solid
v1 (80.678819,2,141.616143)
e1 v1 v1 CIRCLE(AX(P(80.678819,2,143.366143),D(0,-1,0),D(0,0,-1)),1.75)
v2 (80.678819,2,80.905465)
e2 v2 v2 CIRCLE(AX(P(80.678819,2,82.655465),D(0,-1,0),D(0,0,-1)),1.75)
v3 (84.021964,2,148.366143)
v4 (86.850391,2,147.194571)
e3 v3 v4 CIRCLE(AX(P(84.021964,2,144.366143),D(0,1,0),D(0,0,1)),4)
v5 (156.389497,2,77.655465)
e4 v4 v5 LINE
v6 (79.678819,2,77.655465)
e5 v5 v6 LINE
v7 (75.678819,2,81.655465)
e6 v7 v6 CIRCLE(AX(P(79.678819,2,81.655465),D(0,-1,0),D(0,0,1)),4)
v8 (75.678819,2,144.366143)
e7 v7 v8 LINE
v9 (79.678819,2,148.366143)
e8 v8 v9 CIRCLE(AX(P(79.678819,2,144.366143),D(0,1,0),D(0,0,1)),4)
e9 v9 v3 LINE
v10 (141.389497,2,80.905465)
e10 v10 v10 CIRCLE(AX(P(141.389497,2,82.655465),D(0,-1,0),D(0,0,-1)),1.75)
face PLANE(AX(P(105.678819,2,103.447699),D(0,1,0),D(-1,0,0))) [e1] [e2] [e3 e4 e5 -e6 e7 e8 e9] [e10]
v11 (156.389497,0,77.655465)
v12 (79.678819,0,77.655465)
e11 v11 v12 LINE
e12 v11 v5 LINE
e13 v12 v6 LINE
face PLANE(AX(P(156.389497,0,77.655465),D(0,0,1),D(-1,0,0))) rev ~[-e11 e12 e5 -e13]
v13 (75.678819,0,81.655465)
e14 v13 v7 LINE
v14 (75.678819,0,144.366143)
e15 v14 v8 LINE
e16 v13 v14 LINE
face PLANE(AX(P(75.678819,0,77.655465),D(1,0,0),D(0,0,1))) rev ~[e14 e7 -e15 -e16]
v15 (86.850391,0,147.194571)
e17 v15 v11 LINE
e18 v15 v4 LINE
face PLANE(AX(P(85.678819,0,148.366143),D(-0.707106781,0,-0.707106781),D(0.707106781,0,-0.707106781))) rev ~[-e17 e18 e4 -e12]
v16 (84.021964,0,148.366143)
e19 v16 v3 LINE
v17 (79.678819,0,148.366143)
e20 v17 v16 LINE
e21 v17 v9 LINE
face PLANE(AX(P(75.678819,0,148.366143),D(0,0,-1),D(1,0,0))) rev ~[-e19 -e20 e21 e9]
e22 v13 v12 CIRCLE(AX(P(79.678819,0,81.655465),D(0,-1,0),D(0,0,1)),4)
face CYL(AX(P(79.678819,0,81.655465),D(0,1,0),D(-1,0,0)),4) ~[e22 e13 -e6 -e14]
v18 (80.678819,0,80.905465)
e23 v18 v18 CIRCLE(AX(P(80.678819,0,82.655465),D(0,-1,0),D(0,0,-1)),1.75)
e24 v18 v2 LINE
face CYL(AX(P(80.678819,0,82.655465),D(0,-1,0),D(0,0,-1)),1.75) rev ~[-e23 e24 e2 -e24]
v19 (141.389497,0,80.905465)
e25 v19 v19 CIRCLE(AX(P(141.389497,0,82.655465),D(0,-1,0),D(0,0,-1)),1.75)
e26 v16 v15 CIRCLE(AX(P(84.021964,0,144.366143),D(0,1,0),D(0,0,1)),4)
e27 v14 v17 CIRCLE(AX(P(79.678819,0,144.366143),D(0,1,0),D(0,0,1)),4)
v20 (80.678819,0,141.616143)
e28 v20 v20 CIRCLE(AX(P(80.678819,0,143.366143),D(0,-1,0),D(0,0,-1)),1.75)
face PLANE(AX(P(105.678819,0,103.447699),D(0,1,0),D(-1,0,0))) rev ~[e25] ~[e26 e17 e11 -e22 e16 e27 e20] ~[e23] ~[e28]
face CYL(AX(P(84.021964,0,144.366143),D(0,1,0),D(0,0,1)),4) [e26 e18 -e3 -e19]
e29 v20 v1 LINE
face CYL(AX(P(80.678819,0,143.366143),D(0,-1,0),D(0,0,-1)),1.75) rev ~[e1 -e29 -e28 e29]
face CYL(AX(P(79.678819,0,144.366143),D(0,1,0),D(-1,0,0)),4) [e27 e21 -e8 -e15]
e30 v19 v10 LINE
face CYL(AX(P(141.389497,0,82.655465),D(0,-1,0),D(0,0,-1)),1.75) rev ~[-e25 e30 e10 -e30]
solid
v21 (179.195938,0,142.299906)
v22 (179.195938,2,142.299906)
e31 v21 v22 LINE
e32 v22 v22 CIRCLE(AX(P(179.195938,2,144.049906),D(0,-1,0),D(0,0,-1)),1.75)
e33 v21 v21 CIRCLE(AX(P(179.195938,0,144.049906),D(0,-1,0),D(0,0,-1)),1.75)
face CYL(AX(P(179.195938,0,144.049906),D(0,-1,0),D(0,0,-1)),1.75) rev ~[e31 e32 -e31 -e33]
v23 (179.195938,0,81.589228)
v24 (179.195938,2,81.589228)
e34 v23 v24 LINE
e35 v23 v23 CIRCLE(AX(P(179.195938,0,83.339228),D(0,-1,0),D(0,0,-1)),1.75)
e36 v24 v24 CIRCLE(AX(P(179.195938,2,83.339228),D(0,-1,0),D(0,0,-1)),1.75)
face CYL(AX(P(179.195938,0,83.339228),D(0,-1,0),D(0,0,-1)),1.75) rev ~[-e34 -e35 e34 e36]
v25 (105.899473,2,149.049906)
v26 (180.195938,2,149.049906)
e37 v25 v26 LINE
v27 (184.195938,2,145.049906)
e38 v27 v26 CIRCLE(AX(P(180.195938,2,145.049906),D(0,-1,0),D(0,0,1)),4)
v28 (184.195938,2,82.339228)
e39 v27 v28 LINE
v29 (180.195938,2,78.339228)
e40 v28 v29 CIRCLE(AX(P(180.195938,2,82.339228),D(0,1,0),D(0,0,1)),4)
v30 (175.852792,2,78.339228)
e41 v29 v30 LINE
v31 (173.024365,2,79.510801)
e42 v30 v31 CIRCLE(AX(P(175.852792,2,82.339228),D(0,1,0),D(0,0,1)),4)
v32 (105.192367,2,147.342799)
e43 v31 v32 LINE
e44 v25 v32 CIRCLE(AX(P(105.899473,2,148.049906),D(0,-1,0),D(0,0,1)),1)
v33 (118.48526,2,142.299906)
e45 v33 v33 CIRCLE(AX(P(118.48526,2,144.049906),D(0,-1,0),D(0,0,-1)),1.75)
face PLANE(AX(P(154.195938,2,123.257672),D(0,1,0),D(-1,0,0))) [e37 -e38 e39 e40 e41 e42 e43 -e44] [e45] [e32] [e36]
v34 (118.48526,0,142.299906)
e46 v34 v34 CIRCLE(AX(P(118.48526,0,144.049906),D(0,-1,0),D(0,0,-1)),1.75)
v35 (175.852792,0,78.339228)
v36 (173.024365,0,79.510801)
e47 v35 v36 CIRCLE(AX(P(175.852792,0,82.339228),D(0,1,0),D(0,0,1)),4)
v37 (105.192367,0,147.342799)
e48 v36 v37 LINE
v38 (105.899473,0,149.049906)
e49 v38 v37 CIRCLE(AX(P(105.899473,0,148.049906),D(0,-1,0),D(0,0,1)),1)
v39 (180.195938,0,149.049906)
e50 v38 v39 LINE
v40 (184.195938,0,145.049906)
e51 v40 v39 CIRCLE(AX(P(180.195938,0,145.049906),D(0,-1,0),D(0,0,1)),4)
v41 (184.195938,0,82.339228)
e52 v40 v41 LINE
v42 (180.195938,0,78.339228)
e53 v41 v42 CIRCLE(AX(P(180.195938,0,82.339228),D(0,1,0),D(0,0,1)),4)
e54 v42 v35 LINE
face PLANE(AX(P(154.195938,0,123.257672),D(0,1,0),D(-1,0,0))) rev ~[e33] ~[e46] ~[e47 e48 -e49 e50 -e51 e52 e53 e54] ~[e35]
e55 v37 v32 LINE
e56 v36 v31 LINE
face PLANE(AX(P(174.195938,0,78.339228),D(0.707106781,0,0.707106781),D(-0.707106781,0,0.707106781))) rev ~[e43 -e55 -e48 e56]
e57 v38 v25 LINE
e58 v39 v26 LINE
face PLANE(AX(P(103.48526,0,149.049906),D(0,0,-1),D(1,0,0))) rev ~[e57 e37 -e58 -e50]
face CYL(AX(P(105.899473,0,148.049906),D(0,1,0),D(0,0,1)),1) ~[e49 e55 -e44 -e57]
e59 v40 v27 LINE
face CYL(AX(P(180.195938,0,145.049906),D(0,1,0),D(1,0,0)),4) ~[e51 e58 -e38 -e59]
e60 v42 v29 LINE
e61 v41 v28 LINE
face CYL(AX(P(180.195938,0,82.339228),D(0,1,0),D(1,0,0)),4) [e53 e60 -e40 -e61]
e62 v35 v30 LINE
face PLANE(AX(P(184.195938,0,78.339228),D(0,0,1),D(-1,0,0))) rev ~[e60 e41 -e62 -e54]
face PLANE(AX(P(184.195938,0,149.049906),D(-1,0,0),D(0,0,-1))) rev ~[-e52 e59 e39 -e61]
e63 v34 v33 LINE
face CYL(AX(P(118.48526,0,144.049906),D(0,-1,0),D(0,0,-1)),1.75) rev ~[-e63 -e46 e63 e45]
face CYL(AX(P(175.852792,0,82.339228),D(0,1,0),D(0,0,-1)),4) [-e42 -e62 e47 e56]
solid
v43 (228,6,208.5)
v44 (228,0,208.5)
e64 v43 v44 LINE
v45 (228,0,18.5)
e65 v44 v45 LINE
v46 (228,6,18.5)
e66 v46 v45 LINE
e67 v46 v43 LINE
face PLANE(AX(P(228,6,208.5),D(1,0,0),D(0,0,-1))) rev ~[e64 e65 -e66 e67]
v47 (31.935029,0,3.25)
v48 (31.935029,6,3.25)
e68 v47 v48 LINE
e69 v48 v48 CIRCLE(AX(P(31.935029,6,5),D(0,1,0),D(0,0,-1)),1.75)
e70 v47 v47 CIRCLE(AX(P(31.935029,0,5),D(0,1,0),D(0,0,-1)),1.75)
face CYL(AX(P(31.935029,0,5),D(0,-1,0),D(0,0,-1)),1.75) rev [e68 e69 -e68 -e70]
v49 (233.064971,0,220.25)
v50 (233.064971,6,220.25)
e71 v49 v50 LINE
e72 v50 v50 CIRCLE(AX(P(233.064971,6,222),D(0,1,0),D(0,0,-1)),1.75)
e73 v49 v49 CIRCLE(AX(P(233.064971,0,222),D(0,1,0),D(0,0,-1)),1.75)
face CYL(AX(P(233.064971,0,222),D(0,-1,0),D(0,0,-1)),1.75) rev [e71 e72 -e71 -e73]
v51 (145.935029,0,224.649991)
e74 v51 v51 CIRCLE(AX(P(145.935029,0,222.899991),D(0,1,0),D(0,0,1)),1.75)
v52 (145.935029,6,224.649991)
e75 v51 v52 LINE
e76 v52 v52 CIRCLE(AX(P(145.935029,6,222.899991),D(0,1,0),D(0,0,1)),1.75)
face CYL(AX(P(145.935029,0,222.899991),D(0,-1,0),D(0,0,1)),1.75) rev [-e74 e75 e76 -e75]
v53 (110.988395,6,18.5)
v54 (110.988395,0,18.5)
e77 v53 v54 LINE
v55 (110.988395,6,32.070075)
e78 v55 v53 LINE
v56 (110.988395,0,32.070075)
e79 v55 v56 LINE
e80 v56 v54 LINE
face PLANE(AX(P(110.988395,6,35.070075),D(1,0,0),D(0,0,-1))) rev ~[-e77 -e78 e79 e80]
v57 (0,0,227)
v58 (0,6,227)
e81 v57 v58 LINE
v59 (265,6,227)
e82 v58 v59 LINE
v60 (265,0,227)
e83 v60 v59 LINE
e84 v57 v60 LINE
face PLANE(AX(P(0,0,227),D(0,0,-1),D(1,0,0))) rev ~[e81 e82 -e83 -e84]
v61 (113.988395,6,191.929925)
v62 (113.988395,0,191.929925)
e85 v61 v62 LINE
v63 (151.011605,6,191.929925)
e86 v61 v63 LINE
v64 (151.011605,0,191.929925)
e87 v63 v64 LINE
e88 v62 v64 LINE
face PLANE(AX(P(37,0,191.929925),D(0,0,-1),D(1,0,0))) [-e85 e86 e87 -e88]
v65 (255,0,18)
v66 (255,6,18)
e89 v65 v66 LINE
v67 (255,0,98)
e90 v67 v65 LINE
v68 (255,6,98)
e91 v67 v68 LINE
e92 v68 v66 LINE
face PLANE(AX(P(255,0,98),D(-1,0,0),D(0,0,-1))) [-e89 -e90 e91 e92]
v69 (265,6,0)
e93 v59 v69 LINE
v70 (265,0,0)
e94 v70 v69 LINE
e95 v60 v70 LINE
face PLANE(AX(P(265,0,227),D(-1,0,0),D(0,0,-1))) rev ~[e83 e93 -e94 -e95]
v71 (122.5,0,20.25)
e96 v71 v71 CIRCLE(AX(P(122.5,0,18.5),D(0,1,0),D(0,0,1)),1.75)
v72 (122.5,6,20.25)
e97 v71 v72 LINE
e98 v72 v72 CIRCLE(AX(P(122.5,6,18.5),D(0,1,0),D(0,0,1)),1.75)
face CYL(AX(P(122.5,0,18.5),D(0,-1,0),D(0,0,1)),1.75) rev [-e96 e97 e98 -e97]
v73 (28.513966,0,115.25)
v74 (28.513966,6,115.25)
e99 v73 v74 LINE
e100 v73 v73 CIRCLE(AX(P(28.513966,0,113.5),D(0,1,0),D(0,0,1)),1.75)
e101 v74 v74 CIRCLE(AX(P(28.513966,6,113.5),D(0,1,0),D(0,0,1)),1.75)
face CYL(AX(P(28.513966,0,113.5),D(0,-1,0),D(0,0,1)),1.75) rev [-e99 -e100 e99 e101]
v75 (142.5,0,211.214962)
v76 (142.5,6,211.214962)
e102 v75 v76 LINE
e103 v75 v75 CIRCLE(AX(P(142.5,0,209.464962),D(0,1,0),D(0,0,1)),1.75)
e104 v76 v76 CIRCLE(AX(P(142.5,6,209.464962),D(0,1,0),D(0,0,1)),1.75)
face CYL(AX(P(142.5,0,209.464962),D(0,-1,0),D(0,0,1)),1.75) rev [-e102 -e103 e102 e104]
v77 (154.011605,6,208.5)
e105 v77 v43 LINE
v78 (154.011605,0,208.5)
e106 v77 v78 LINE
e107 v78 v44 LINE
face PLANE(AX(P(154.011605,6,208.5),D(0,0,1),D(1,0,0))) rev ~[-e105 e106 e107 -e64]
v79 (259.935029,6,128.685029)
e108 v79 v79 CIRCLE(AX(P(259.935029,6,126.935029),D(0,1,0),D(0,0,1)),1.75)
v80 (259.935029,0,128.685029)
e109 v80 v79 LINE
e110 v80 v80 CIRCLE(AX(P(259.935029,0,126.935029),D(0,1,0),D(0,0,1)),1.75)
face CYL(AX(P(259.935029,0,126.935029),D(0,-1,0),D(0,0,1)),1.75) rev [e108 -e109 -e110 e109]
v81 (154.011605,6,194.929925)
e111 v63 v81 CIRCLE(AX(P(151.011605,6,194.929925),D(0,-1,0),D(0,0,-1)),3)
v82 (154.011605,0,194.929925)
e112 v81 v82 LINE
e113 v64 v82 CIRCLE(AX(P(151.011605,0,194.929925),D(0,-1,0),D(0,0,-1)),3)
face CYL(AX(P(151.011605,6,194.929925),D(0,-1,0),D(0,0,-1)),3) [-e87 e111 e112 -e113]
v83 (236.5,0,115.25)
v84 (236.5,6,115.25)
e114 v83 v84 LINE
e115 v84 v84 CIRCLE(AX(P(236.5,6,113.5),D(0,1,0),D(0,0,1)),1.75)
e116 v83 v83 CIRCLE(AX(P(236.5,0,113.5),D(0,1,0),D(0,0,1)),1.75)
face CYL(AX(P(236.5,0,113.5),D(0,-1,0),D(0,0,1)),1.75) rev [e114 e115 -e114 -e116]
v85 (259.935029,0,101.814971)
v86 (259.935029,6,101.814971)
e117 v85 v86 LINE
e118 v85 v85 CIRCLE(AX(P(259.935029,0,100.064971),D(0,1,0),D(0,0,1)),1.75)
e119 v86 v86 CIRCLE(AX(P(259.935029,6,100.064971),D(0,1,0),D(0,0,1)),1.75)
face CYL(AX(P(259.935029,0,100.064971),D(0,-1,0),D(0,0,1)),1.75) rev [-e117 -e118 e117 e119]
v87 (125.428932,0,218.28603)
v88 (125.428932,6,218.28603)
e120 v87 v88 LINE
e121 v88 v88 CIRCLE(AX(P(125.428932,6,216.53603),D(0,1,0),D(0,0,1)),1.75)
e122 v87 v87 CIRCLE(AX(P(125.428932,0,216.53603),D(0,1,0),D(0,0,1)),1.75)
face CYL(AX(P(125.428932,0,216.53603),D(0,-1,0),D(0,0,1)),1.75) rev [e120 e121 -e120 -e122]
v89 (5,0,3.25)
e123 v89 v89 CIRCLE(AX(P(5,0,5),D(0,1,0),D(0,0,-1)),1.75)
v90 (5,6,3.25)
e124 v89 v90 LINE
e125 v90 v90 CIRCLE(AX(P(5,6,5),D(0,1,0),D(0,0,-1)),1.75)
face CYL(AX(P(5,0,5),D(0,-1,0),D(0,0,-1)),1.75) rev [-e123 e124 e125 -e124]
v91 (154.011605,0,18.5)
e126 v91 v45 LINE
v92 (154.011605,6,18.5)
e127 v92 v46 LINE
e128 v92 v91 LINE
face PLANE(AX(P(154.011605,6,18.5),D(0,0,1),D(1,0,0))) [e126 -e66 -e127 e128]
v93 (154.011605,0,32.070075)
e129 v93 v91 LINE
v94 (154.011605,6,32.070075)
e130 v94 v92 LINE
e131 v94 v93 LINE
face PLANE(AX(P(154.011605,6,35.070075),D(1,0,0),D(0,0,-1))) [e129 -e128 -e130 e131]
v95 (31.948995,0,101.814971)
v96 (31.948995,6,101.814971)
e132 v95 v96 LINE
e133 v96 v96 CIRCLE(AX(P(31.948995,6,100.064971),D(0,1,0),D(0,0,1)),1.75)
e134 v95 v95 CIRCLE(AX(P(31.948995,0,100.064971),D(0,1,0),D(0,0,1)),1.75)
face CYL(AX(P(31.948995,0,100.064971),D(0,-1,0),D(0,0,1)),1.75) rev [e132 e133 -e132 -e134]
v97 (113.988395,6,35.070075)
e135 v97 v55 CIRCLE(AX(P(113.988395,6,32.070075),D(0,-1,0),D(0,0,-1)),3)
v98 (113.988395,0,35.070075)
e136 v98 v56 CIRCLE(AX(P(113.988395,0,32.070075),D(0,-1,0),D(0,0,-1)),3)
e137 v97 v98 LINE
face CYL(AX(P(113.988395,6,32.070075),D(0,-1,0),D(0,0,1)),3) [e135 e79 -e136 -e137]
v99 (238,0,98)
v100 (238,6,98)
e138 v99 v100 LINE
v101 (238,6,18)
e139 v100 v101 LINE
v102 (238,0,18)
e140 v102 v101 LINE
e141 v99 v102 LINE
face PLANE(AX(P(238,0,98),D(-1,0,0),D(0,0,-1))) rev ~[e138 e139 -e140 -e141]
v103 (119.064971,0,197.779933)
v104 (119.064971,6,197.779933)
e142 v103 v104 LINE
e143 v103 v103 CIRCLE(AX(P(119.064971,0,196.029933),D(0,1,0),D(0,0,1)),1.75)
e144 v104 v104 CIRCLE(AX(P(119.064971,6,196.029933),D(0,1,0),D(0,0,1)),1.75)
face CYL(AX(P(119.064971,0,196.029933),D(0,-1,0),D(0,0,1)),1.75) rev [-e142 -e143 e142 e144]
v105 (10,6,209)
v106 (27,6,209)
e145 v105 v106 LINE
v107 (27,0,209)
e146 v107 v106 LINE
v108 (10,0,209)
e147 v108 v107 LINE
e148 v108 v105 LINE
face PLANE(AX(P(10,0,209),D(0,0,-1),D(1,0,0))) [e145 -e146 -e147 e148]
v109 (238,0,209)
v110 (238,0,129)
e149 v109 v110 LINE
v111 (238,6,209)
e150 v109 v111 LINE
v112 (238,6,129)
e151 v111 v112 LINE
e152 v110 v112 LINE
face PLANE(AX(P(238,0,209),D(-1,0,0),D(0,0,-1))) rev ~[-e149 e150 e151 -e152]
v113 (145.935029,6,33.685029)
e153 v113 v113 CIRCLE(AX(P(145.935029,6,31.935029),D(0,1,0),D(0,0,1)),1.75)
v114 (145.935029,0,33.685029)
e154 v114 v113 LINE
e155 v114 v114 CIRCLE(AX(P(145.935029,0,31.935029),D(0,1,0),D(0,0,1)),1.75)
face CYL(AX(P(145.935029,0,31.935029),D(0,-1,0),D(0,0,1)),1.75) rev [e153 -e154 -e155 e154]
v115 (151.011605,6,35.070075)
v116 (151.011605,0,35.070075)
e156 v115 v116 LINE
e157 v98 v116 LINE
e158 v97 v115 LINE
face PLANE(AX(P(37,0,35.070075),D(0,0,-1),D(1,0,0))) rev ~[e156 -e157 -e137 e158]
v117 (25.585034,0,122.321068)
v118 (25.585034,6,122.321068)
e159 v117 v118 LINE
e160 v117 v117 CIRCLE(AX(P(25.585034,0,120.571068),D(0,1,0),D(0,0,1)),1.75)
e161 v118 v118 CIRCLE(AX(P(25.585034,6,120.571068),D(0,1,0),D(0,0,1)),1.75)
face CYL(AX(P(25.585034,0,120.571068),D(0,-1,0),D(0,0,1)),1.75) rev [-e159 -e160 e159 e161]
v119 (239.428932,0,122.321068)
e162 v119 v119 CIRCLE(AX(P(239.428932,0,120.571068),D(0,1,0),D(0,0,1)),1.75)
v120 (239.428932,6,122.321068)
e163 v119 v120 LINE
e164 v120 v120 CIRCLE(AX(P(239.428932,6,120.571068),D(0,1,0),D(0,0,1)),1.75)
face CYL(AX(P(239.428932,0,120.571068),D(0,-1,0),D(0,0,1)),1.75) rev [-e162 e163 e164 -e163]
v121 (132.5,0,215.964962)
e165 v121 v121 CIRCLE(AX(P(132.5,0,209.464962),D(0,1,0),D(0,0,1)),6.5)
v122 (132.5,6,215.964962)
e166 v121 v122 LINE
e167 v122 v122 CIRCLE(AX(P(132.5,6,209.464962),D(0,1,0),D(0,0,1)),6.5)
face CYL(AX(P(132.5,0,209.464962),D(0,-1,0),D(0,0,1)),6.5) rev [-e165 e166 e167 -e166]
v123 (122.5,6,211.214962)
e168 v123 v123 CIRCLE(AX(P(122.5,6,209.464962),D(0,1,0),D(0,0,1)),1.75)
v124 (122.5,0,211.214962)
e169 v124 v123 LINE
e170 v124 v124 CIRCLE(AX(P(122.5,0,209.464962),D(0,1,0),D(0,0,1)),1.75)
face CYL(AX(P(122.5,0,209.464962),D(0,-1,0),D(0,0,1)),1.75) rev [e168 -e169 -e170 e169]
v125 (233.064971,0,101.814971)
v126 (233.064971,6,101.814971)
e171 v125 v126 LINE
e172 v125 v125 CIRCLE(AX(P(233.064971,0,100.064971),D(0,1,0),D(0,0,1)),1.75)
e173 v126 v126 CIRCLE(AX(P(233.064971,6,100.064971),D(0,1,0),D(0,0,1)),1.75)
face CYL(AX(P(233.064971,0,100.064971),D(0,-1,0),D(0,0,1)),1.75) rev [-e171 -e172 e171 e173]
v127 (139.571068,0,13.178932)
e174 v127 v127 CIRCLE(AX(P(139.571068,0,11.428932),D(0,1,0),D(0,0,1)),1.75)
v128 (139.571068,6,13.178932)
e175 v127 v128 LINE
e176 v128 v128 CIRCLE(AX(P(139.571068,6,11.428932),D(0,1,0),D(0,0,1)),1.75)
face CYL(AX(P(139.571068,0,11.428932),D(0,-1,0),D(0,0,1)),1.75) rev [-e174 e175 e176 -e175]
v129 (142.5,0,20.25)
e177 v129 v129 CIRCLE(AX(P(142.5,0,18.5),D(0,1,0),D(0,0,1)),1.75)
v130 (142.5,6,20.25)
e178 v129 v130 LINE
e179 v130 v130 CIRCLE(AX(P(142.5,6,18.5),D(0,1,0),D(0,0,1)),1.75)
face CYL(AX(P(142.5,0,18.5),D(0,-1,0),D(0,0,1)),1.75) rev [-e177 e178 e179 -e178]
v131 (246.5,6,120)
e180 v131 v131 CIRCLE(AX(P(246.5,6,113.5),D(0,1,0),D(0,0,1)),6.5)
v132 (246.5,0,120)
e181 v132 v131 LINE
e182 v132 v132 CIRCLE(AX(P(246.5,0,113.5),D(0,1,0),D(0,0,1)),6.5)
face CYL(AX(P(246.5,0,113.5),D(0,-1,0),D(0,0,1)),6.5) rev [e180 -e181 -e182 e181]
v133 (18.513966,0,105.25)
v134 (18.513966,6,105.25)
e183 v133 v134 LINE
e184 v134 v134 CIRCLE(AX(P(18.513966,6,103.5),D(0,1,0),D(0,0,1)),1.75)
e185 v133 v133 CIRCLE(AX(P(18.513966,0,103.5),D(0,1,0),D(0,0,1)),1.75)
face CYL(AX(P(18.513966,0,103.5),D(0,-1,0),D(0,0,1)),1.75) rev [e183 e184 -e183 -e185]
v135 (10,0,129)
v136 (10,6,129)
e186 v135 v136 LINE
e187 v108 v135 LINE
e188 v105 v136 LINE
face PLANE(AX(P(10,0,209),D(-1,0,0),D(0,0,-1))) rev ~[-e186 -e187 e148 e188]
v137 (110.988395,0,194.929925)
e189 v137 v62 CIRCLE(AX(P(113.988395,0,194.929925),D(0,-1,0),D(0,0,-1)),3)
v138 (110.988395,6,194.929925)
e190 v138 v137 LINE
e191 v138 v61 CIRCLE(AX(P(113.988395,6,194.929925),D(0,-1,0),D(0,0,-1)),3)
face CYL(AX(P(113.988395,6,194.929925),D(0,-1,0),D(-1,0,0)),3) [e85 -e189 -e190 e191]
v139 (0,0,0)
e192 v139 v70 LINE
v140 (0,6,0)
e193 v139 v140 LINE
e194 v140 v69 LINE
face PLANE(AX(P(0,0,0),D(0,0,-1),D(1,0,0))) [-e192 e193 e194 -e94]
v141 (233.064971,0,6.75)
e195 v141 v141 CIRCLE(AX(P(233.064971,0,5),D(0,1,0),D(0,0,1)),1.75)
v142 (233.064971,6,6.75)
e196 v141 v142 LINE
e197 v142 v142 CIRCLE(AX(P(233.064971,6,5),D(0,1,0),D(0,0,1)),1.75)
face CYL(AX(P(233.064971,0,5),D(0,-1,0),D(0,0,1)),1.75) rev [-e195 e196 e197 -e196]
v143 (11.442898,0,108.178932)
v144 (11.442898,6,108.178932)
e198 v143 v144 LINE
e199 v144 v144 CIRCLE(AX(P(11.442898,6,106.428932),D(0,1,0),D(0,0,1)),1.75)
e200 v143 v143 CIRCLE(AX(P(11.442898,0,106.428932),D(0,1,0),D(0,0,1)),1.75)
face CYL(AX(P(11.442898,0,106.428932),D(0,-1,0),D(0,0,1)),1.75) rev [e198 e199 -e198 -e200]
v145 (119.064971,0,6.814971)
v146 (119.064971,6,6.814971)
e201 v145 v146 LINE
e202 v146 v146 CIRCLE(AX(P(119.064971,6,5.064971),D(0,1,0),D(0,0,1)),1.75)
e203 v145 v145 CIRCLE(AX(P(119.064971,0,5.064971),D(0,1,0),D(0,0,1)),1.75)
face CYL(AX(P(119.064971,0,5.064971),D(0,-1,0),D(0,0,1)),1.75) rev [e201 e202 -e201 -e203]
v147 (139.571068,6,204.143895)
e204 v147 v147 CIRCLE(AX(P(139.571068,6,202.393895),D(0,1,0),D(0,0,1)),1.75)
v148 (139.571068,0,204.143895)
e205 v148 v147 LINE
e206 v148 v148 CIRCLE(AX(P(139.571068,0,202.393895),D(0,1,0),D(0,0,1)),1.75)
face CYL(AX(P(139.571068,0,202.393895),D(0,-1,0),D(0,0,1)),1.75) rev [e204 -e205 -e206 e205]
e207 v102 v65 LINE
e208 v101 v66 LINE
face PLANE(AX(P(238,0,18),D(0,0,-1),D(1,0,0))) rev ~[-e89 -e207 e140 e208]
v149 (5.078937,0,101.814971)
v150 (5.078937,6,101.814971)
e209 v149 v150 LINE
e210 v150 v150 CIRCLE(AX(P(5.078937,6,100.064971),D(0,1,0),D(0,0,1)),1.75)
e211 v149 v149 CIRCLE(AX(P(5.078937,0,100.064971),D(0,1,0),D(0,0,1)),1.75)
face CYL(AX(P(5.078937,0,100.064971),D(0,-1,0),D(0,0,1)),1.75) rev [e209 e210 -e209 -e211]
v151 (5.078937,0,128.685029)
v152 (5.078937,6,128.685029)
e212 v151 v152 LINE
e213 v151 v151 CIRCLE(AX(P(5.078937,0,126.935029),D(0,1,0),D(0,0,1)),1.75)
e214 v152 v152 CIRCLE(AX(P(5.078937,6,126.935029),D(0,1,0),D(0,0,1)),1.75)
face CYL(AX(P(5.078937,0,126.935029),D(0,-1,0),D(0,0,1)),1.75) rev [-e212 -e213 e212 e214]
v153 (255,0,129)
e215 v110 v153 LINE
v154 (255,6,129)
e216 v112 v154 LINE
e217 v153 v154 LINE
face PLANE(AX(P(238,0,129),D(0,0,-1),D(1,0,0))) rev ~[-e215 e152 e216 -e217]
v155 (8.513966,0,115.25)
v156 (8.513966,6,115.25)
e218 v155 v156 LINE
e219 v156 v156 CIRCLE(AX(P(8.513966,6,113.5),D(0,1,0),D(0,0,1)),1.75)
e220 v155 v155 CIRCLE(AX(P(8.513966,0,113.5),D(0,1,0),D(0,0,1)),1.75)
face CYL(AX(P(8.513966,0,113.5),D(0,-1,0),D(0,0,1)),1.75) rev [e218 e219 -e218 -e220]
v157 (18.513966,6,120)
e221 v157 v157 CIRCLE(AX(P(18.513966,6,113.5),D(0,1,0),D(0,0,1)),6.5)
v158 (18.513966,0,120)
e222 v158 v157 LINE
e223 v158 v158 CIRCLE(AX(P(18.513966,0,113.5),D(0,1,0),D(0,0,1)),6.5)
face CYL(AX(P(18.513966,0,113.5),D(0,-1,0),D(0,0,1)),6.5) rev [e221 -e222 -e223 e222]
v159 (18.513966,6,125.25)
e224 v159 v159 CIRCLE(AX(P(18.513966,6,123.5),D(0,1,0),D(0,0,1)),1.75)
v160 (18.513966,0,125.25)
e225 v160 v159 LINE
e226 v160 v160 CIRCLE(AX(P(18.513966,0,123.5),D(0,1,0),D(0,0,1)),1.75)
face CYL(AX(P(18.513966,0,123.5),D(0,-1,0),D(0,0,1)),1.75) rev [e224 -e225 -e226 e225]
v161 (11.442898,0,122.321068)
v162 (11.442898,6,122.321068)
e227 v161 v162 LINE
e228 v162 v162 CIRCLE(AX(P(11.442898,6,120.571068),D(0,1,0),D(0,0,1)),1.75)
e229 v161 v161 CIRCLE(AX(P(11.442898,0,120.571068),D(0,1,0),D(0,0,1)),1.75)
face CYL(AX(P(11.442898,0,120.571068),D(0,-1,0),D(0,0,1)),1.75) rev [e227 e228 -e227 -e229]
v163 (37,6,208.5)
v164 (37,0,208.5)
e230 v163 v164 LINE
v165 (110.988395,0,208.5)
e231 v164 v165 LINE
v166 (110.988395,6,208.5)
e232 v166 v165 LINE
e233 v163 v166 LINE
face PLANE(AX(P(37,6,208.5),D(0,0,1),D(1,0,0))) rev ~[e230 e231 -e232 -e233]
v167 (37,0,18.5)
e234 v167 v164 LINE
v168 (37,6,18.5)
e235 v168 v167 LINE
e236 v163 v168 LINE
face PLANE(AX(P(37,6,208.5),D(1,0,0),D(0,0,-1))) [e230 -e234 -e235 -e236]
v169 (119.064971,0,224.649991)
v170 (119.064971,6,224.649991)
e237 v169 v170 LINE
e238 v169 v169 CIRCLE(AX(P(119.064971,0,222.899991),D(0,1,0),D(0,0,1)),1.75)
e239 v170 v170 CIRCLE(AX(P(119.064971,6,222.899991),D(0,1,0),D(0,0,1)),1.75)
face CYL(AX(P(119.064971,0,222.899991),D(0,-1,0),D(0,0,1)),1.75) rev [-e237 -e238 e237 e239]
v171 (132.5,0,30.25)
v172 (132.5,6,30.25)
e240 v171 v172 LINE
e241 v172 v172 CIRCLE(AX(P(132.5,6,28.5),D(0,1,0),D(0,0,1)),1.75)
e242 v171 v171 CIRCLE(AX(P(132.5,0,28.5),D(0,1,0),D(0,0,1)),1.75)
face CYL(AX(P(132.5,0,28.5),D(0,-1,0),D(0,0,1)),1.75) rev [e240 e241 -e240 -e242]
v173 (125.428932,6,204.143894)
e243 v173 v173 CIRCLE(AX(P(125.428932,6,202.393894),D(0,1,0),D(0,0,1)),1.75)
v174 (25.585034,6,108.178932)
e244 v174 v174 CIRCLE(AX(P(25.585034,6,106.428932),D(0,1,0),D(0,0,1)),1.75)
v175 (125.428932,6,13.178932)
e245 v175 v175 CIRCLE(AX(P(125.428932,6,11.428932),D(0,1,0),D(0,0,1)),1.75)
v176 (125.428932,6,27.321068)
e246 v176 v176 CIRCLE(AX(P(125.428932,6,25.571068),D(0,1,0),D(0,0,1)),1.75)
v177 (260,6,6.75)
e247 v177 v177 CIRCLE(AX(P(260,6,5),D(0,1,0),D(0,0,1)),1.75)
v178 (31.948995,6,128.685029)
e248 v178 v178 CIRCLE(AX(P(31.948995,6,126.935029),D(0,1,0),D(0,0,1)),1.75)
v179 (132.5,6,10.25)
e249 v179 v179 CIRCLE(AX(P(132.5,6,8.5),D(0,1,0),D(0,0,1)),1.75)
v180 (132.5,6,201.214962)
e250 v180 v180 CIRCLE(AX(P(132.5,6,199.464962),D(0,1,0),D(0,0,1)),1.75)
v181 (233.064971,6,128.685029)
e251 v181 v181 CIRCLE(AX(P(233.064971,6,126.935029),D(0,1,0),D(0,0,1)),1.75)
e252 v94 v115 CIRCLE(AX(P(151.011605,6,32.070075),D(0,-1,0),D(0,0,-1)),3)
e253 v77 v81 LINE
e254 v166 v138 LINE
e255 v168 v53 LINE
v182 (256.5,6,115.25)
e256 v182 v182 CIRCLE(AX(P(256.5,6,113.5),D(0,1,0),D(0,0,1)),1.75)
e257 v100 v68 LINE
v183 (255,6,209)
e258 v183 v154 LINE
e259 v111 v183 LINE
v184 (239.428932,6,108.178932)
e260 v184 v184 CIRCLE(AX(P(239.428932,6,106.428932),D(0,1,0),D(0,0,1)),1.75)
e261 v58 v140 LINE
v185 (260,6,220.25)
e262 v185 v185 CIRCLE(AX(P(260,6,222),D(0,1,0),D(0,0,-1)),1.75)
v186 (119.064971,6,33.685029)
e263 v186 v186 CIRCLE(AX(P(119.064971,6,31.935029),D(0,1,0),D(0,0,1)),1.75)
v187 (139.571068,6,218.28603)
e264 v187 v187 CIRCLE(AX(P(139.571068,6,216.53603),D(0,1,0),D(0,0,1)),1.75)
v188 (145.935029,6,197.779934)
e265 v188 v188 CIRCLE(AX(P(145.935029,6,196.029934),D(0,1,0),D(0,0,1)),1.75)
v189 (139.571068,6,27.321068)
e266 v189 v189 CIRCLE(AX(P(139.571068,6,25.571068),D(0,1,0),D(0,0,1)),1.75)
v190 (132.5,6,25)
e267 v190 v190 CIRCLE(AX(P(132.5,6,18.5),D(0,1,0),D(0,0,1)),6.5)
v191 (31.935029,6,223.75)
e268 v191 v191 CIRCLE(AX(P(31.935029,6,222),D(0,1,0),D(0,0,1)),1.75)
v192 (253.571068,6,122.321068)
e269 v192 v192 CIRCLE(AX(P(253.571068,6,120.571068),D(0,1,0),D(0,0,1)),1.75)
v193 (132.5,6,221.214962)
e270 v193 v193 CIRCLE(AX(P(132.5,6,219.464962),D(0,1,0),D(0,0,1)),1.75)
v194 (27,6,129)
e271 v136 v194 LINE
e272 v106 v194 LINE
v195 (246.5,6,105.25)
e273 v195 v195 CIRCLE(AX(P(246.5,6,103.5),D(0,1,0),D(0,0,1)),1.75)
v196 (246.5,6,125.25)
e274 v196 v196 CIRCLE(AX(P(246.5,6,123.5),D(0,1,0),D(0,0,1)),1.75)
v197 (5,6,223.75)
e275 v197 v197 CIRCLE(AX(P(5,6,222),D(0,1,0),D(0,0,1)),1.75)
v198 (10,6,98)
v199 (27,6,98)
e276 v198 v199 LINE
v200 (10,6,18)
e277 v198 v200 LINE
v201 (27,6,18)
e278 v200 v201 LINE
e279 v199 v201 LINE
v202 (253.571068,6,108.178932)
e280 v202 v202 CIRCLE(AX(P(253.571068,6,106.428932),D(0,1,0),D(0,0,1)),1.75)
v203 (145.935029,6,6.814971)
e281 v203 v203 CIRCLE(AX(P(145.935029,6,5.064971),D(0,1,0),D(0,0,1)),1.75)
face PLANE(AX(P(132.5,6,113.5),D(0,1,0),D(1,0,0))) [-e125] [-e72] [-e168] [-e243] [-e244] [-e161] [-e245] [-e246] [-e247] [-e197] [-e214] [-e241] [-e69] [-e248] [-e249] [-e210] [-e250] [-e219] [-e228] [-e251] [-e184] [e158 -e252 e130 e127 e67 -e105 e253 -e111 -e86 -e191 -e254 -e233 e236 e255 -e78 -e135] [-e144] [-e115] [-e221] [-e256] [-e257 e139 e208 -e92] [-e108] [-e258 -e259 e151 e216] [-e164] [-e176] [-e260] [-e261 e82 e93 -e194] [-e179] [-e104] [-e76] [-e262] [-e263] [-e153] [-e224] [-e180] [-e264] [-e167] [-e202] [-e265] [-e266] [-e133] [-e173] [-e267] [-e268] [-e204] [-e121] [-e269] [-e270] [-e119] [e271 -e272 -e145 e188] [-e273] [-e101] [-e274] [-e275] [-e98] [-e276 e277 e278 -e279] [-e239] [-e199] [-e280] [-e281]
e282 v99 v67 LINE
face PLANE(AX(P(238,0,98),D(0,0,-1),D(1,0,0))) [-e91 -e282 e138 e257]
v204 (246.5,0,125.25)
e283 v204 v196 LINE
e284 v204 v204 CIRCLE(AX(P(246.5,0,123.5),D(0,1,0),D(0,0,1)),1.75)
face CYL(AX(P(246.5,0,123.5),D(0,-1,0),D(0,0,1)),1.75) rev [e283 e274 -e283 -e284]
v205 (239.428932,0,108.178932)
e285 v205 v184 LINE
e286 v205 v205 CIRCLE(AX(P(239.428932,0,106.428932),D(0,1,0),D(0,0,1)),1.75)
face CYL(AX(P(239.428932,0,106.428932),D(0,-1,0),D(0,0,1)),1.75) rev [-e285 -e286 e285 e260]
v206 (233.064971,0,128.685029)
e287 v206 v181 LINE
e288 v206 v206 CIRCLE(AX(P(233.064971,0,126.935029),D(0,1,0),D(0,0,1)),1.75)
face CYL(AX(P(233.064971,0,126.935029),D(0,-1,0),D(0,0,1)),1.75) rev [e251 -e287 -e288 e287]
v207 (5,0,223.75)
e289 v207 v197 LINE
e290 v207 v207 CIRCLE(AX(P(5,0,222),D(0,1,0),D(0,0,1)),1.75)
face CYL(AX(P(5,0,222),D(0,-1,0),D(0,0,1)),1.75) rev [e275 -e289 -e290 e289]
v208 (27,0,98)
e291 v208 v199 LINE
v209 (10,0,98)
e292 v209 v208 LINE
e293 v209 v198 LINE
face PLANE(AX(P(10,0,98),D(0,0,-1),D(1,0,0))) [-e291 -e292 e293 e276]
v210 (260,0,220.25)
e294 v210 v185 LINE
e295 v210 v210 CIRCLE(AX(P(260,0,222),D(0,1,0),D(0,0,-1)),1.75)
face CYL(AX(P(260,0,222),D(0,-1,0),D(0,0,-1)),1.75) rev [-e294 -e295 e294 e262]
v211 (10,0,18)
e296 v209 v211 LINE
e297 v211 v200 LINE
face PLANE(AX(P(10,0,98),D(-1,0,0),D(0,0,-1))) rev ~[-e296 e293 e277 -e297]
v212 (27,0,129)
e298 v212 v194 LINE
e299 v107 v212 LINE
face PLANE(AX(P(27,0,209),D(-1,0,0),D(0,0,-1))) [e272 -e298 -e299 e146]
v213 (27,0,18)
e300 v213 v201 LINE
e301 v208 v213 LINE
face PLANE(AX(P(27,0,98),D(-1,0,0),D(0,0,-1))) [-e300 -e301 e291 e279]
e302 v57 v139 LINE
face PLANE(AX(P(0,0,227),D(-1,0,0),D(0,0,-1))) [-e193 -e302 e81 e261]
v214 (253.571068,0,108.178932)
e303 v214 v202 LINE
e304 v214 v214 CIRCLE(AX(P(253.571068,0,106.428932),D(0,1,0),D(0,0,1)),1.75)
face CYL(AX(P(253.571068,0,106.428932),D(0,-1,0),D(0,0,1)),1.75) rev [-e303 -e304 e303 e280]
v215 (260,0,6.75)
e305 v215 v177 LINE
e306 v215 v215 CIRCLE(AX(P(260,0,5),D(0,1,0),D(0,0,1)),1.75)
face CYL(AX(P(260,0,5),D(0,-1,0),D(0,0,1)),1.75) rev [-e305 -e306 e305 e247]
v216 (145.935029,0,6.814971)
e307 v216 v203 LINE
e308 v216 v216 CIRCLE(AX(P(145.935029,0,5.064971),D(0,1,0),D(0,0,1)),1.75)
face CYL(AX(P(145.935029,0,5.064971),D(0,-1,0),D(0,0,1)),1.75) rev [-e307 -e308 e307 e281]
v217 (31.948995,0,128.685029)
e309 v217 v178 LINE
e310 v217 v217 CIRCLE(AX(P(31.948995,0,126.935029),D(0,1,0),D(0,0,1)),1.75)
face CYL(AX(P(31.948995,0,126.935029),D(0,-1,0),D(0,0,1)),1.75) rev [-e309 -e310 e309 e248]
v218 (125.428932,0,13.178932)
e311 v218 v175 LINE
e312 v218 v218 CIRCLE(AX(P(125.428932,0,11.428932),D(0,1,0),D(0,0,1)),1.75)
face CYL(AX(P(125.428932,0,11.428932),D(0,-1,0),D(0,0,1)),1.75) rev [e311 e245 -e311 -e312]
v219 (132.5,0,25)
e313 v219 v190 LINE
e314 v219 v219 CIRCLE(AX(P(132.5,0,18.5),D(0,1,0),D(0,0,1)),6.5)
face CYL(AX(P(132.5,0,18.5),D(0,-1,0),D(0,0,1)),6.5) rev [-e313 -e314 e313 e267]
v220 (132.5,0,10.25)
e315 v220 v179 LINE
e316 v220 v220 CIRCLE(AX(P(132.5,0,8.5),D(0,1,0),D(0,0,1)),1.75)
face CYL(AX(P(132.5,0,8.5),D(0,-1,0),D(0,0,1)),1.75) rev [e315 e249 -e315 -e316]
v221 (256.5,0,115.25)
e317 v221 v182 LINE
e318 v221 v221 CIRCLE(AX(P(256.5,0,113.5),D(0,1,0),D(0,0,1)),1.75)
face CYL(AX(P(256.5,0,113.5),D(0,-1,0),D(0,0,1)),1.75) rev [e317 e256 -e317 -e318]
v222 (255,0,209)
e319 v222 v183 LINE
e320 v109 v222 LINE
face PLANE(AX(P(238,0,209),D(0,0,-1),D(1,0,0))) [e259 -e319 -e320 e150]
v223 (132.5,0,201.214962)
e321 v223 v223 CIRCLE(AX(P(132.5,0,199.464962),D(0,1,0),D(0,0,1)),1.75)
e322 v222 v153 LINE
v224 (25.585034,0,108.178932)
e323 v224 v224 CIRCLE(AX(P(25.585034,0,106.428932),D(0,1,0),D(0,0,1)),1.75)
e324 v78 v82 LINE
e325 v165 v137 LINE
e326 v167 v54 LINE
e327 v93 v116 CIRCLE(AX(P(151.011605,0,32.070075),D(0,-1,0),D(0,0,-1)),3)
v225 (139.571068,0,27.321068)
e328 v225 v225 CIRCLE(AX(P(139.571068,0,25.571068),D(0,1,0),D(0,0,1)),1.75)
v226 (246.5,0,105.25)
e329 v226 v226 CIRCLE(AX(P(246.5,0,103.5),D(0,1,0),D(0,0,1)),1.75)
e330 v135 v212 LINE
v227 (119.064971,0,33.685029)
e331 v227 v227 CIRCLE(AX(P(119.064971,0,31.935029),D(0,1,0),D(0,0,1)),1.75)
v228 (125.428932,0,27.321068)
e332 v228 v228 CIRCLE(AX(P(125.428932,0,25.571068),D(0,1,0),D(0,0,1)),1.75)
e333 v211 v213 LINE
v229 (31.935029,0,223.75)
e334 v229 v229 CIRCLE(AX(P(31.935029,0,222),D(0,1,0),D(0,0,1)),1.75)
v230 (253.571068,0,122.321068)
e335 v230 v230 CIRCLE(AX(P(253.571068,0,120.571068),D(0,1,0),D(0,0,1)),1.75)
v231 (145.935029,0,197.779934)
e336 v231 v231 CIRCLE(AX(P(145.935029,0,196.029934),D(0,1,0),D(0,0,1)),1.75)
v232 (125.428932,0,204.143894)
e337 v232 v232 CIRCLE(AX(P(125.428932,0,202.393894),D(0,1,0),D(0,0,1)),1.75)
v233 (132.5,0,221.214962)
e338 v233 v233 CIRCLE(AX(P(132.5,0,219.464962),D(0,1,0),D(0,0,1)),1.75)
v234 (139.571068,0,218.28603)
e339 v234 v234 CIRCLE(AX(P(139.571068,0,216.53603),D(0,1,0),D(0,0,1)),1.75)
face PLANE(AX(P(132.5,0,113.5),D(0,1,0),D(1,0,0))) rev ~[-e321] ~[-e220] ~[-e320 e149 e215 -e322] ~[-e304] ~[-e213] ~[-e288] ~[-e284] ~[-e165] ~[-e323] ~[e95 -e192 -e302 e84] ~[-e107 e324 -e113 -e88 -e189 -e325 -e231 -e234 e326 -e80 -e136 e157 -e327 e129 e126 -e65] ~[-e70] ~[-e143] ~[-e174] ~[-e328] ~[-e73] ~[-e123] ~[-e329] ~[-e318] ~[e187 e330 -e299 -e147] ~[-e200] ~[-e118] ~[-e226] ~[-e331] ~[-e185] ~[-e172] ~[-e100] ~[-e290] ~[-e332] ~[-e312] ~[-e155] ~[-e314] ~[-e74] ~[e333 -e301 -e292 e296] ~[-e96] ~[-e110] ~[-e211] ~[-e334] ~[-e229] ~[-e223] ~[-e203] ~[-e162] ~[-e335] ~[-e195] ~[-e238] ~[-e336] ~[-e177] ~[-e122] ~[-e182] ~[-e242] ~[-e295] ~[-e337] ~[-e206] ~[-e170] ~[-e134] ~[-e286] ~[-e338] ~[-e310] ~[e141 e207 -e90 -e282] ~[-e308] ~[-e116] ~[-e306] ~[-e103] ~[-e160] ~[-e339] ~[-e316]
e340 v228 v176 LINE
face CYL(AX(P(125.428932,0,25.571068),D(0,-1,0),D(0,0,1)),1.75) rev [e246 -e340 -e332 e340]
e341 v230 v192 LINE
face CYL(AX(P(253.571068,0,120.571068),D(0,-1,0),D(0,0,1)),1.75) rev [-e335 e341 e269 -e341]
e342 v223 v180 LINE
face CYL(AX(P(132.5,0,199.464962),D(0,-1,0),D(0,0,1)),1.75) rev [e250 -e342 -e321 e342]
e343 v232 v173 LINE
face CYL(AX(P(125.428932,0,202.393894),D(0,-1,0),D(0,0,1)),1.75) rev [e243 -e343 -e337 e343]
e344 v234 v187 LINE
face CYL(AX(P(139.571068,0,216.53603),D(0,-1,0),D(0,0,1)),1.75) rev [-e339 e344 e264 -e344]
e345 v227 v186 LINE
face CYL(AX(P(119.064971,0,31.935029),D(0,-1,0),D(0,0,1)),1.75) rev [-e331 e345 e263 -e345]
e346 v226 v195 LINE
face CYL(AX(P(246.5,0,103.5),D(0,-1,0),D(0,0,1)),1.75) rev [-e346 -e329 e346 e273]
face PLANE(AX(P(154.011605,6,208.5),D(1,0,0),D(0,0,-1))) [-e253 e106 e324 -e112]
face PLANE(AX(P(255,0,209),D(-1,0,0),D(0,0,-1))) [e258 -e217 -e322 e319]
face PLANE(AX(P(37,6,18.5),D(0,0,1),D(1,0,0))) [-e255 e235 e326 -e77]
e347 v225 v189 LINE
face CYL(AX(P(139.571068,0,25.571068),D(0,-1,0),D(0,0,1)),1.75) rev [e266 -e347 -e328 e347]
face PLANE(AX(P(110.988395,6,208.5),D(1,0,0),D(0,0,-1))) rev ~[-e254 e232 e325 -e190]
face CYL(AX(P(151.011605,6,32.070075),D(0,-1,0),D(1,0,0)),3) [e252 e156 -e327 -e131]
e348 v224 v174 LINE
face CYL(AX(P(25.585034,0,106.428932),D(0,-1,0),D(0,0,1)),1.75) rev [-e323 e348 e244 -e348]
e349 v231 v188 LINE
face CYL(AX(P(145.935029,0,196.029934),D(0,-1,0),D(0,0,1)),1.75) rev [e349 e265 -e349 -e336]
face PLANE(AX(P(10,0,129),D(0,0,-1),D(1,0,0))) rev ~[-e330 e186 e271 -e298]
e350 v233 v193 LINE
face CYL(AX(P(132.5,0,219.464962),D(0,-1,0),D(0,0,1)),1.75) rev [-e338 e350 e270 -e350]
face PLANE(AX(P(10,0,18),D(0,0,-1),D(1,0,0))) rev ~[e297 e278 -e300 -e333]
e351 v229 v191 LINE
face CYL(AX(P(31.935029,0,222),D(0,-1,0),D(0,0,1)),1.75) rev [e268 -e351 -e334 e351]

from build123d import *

# Parameters (mm, degrees)
ESQUISSE1_W             = 265
ESQUISSE1_H             = 227
ESQUISSE1_R             = 6.5
ESQUISSE1_R_2           = 1.75
ESQUISSE1_R_3           = 1.749999999
ESQUISSE1_W_2           = 191
ESQUISSE1_H_2           = 156.859849262
ESQUISSE1_W_3           = 17
ESQUISSE1_H_3           = 80
BOSS_EXTRU_1_DEPTH      = 6
ESQUISSE2_W             = 73.988395344
ESQUISSE2_H             = 16.570075369
ENL_V_MAT_EXTRU_1_DEPTH = 10
CONG_1_R                = 3
ESQUISSE3_R             = 1.75
BOSS_EXTRU_2_DEPTH      = 2
BOSS_EXTRU_2_2_DEPTH    = 2
CONG_2_R                = 4
CONG_3_R                = 4
CONG_4_R                = 1


with BuildPart() as part:
    # Esquisse1 → Boss.-Extru.1 (new body)
    with BuildSketch(Plane(origin=(0, 0, 0), x_dir=(1, 0, 0), z_dir=(0, 1, 0))):
        with Locations((132.5, -113.5)):
            Rectangle(ESQUISSE1_W, ESQUISSE1_H)
        with Locations(Location((246.5, -113.5, 0), (0, 0, 270))):
            Circle(ESQUISSE1_R, mode=Mode.SUBTRACT)
        with Locations(Location((246.5, -103.5, 0), (0, 0, 270))):
            Circle(ESQUISSE1_R_2, mode=Mode.SUBTRACT)
        with Locations(Location((253.571068024, -106.4289324, 0), (0, 0, 270))):
            Circle(ESQUISSE1_R_2, mode=Mode.SUBTRACT)
        with Locations(Location((256.5, -113.5, 0), (0, 0, 270))):
            Circle(ESQUISSE1_R_2, mode=Mode.SUBTRACT)
        with Locations(Location((253.571067812, -120.571067812, 0), (0, 0, 270))):
            Circle(ESQUISSE1_R_2, mode=Mode.SUBTRACT)
        with Locations(Location((246.5, -123.5, 0), (0, 0, 270))):
            Circle(ESQUISSE1_R_2, mode=Mode.SUBTRACT)
        with Locations(Location((239.428932188, -120.571067812, 0), (0, 0, 270))):
            Circle(ESQUISSE1_R_2, mode=Mode.SUBTRACT)
        with Locations(Location((236.5, -113.5, 0), (0, 0, 270))):
            Circle(ESQUISSE1_R_2, mode=Mode.SUBTRACT)
        with Locations(Location((239.42893238, -106.428931957, 0), (0, 0, 270))):
            Circle(ESQUISSE1_R_3, mode=Mode.SUBTRACT)
        with Locations(Location((259.935029054, -100.064971369, 0), (0, 0, 270))):
            Circle(ESQUISSE1_R_2, mode=Mode.SUBTRACT)
        with Locations(Location((259.935028843, -126.935028843, 0), (0, 0, 270))):
            Circle(ESQUISSE1_R_2, mode=Mode.SUBTRACT)
        with Locations(Location((233.064971369, -100.064970946, 0), (0, 0, 270))):
            Circle(ESQUISSE1_R_2, mode=Mode.SUBTRACT)
        with Locations(Location((233.064971157, -126.935028843, 0), (0, 0, 270))):
            Circle(ESQUISSE1_R_2, mode=Mode.SUBTRACT)
        with Locations(Location((132.5, -209.464962315, 0), (0, 0, 270))):
            Circle(ESQUISSE1_R, mode=Mode.SUBTRACT)
        with Locations(Location((132.5, -199.464962315, 0), (0, 0, 270))):
            Circle(ESQUISSE1_R_2, mode=Mode.SUBTRACT)
        with Locations(Location((139.571068024, -202.393894715, 0), (0, 0, 270))):
            Circle(ESQUISSE1_R_2, mode=Mode.SUBTRACT)
        with Locations(Location((142.5, -209.464962315, 0), (0, 0, 270))):
            Circle(ESQUISSE1_R_2, mode=Mode.SUBTRACT)
        with Locations(Location((139.571067812, -216.536030127, 0), (0, 0, 270))):
            Circle(ESQUISSE1_R_2, mode=Mode.SUBTRACT)
        with Locations(Location((132.5, -219.464962315, 0), (0, 0, 270))):
            Circle(ESQUISSE1_R_2, mode=Mode.SUBTRACT)
        with Locations(Location((125.428932188, -216.536030127, 0), (0, 0, 270))):
            Circle(ESQUISSE1_R_2, mode=Mode.SUBTRACT)
        with Locations(Location((122.5, -209.464962315, 0), (0, 0, 270))):
            Circle(ESQUISSE1_R_2, mode=Mode.SUBTRACT)
        with Locations(Location((125.42893238, -202.393894272, 0), (0, 0, 270))):
            Circle(ESQUISSE1_R_3, mode=Mode.SUBTRACT)
        with Locations(Location((145.935029054, -196.029933685, 0), (0, 0, 270))):
            Circle(ESQUISSE1_R_2, mode=Mode.SUBTRACT)
        with Locations(Location((145.935028843, -222.899991158, 0), (0, 0, 270))):
            Circle(ESQUISSE1_R_2, mode=Mode.SUBTRACT)
        with Locations(Location((119.064971369, -196.029933261, 0), (0, 0, 270))):
            Circle(ESQUISSE1_R_2, mode=Mode.SUBTRACT)
        with Locations(Location((119.064971157, -222.899991158, 0), (0, 0, 270))):
            Circle(ESQUISSE1_R_2, mode=Mode.SUBTRACT)
        with Locations(Location((18.513965978, -113.5, 0), (0, 0, 270))):
            Circle(ESQUISSE1_R, mode=Mode.SUBTRACT)
        with Locations(Location((18.513965978, -103.5, 0), (0, 0, 270))):
            Circle(ESQUISSE1_R_2, mode=Mode.SUBTRACT)
        with Locations(Location((25.585034002, -106.4289324, 0), (0, 0, 270))):
            Circle(ESQUISSE1_R_2, mode=Mode.SUBTRACT)
        with Locations(Location((28.513965978, -113.5, 0), (0, 0, 270))):
            Circle(ESQUISSE1_R_2, mode=Mode.SUBTRACT)
        with Locations(Location((25.58503379, -120.571067812, 0), (0, 0, 270))):
            Circle(ESQUISSE1_R_2, mode=Mode.SUBTRACT)
        with Locations(Location((18.513965978, -123.5, 0), (0, 0, 270))):
            Circle(ESQUISSE1_R_2, mode=Mode.SUBTRACT)
        with Locations(Location((11.442898166, -120.571067812, 0), (0, 0, 270))):
            Circle(ESQUISSE1_R_2, mode=Mode.SUBTRACT)
        with Locations(Location((8.513965978, -113.5, 0), (0, 0, 270))):
            Circle(ESQUISSE1_R_2, mode=Mode.SUBTRACT)
        with Locations(Location((11.442898358, -106.428931957, 0), (0, 0, 270))):
            Circle(ESQUISSE1_R_3, mode=Mode.SUBTRACT)
        with Locations(Location((31.948995033, -100.064971369, 0), (0, 0, 270))):
            Circle(ESQUISSE1_R_2, mode=Mode.SUBTRACT)
        with Locations(Location((31.948994821, -126.935028843, 0), (0, 0, 270))):
            Circle(ESQUISSE1_R_2, mode=Mode.SUBTRACT)
        with Locations(Location((5.078937347, -100.064970946, 0), (0, 0, 270))):
            Circle(ESQUISSE1_R_2, mode=Mode.SUBTRACT)
        with Locations(Location((5.078937136, -126.935028843, 0), (0, 0, 270))):
            Circle(ESQUISSE1_R_2, mode=Mode.SUBTRACT)
        with Locations(Location((132.5, -18.5, 0), (0, 0, 270))):
            Circle(ESQUISSE1_R, mode=Mode.SUBTRACT)
        with Locations(Location((132.5, -8.5, 0), (0, 0, 270))):
            Circle(ESQUISSE1_R_2, mode=Mode.SUBTRACT)
        with Locations(Location((139.571068024, -11.4289324, 0), (0, 0, 270))):
            Circle(ESQUISSE1_R_2, mode=Mode.SUBTRACT)
        with Locations(Location((142.5, -18.5, 0), (0, 0, 270))):
            Circle(ESQUISSE1_R_2, mode=Mode.SUBTRACT)
        with Locations(Location((139.571067812, -25.571067812, 0), (0, 0, 270))):
            Circle(ESQUISSE1_R_2, mode=Mode.SUBTRACT)
        with Locations(Location((132.5, -28.5, 0), (0, 0, 270))):
            Circle(ESQUISSE1_R_2, mode=Mode.SUBTRACT)
        with Locations(Location((125.428932188, -25.571067812, 0), (0, 0, 270))):
            Circle(ESQUISSE1_R_2, mode=Mode.SUBTRACT)
        with Locations(Location((122.5, -18.5, 0), (0, 0, 270))):
            Circle(ESQUISSE1_R_2, mode=Mode.SUBTRACT)
        with Locations(Location((125.42893238, -11.428931957, 0), (0, 0, 270))):
            Circle(ESQUISSE1_R_3, mode=Mode.SUBTRACT)
        with Locations(Location((145.935029054, -5.064971369, 0), (0, 0, 270))):
            Circle(ESQUISSE1_R_2, mode=Mode.SUBTRACT)
        with Locations(Location((145.935028843, -31.935028843, 0), (0, 0, 270))):
            Circle(ESQUISSE1_R_2, mode=Mode.SUBTRACT)
        with Locations(Location((119.064971369, -5.064970946, 0), (0, 0, 270))):
            Circle(ESQUISSE1_R_2, mode=Mode.SUBTRACT)
        with Locations(Location((119.064971157, -31.935028843, 0), (0, 0, 270))):
            Circle(ESQUISSE1_R_2, mode=Mode.SUBTRACT)
        with Locations(Location((260, -5, 0), (0, 0, 270))):
            Circle(ESQUISSE1_R_2, mode=Mode.SUBTRACT)
        with Locations(Location((233.064971369, -5, 0), (0, 0, 270))):
            Circle(ESQUISSE1_R_2, mode=Mode.SUBTRACT)
        with Locations(Location((260, -222, 0), (0, 0, 90))):
            Circle(ESQUISSE1_R_2, mode=Mode.SUBTRACT)
        with Locations(Location((233.064971369, -222, 0), (0, 0, 90))):
            Circle(ESQUISSE1_R_2, mode=Mode.SUBTRACT)
        with Locations(Location((5, -5, 0), (0, 0, 90))):
            Circle(ESQUISSE1_R_2, mode=Mode.SUBTRACT)
        with Locations(Location((31.935028631, -5, 0), (0, 0, 90))):
            Circle(ESQUISSE1_R_2, mode=Mode.SUBTRACT)
        with Locations(Location((5, -222, 0), (0, 0, 270))):
            Circle(ESQUISSE1_R_2, mode=Mode.SUBTRACT)
        with Locations(Location((31.935028631, -222, 0), (0, 0, 270))):
            Circle(ESQUISSE1_R_2, mode=Mode.SUBTRACT)
        with Locations((132.5, -113.5)):
            Rectangle(ESQUISSE1_W_2, ESQUISSE1_H_2, mode=Mode.SUBTRACT)
        with Locations((246.5, -58)):
            Rectangle(ESQUISSE1_W_3, ESQUISSE1_H_3, mode=Mode.SUBTRACT)
        with Locations((246.5, -169)):
            Rectangle(ESQUISSE1_W_3, ESQUISSE1_H_3, mode=Mode.SUBTRACT)
        with Locations((18.5, -58)):
            Rectangle(ESQUISSE1_W_3, ESQUISSE1_H_3, mode=Mode.SUBTRACT)
        with Locations((18.5, -169)):
            Rectangle(ESQUISSE1_W_3, ESQUISSE1_H_3, mode=Mode.SUBTRACT)
    extrude(amount=BOSS_EXTRU_1_DEPTH)

    # Esquisse2 → Enlèv. mat.-Extru.1 (cut)
    with BuildSketch(Plane(origin=(0, 6, 0), x_dir=(1, 0, 0), z_dir=(0, 1, 0))):
        with Locations((73.994197672, -26.785037685)):
            Rectangle(ESQUISSE2_W, ESQUISSE2_H)
        with Locations((191.005802328, -26.785037685)):
            Rectangle(ESQUISSE2_W, ESQUISSE2_H)
        with Locations((191.005802328, -200.214962316)):
            Rectangle(ESQUISSE2_W, ESQUISSE2_H)
        with Locations((73.994197672, -200.214962316)):
            Rectangle(ESQUISSE2_W, ESQUISSE2_H)
    extrude(amount=-ENL_V_MAT_EXTRU_1_DEPTH, mode=Mode.SUBTRACT)

    # Congé1
    cong_1_edges = [part.edges().sort_by_distance(p)[0] for p in [
        (110.988395344, 3, 35.070075369),
        (154.011604656, 3, 35.070075369),
        (110.988395344, 3, 191.929924631),
        (154.011604656, 3, 191.929924631),
    ]]
    fillet(cong_1_edges, radius=CONG_1_R)


with BuildPart() as body_2:
    # Esquisse3 → Boss.-Extru.2 (new body)
    with BuildSketch(Plane.XZ):
        Polygon((75.678818623, 77.655465357), (75.678818623, 148.366143475), (85.678818623, 148.366143475), (156.389496742, 77.655465357), align=None)
        with Locations(Location((80.678818623, 82.655465357, 0), (0, 0, 270))):
            Circle(ESQUISSE3_R, mode=Mode.SUBTRACT)
        with Locations(Location((141.389496742, 82.655465357, 0), (0, 0, 270))):
            Circle(ESQUISSE3_R, mode=Mode.SUBTRACT)
        with Locations(Location((80.678818623, 143.366143476, 0), (0, 0, 270))):
            Circle(ESQUISSE3_R, mode=Mode.SUBTRACT)
    extrude(amount=-BOSS_EXTRU_2_DEPTH)

    # Congé2
    cong_2_edges = [body_2.edges().sort_by_distance(p)[0] for p in [
        (75.678818623, 1, 148.366143475),
        (85.678818623, 1, 148.366143475),
        (75.678818623, 1, 77.655465357),
    ]]
    fillet(cong_2_edges, radius=CONG_2_R)


with BuildPart() as body_3:
    # Esquisse3 → Boss.-Extru.2 2 (new body)
    with BuildSketch(Plane.XZ):
        Polygon((184.195937966, 149.04990607), (184.195937966, 78.339227951), (174.195937966, 78.339227951), (103.485259847, 149.04990607), align=None)
        with Locations(Location((179.195937966, 144.04990607, 0), (0, 0, 270))):
            Circle(ESQUISSE3_R, mode=Mode.SUBTRACT)
        with Locations(Location((118.485259847, 144.04990607, 0), (0, 0, 270))):
            Circle(ESQUISSE3_R, mode=Mode.SUBTRACT)
        with Locations(Location((179.195937966, 83.33922795, 0), (0, 0, 270))):
            Circle(ESQUISSE3_R, mode=Mode.SUBTRACT)
    extrude(amount=-BOSS_EXTRU_2_2_DEPTH)

    # Congé3
    cong_3_edges = [body_3.edges().sort_by_distance(p)[0] for p in [
        (184.195937966, 1, 78.339227951),
        (174.195937966, 1, 78.339227951),
        (184.195937966, 1, 149.04990607),
    ]]
    fillet(cong_3_edges, radius=CONG_3_R)

    # Congé4
    cong_4_edges = [body_3.edges().sort_by_distance(p)[0] for p in [
        (103.485259847, 1, 149.04990607),
    ]]
    fillet(cong_4_edges, radius=CONG_4_R)


solid = Compound([part.part, body_2.part, body_3.part])
